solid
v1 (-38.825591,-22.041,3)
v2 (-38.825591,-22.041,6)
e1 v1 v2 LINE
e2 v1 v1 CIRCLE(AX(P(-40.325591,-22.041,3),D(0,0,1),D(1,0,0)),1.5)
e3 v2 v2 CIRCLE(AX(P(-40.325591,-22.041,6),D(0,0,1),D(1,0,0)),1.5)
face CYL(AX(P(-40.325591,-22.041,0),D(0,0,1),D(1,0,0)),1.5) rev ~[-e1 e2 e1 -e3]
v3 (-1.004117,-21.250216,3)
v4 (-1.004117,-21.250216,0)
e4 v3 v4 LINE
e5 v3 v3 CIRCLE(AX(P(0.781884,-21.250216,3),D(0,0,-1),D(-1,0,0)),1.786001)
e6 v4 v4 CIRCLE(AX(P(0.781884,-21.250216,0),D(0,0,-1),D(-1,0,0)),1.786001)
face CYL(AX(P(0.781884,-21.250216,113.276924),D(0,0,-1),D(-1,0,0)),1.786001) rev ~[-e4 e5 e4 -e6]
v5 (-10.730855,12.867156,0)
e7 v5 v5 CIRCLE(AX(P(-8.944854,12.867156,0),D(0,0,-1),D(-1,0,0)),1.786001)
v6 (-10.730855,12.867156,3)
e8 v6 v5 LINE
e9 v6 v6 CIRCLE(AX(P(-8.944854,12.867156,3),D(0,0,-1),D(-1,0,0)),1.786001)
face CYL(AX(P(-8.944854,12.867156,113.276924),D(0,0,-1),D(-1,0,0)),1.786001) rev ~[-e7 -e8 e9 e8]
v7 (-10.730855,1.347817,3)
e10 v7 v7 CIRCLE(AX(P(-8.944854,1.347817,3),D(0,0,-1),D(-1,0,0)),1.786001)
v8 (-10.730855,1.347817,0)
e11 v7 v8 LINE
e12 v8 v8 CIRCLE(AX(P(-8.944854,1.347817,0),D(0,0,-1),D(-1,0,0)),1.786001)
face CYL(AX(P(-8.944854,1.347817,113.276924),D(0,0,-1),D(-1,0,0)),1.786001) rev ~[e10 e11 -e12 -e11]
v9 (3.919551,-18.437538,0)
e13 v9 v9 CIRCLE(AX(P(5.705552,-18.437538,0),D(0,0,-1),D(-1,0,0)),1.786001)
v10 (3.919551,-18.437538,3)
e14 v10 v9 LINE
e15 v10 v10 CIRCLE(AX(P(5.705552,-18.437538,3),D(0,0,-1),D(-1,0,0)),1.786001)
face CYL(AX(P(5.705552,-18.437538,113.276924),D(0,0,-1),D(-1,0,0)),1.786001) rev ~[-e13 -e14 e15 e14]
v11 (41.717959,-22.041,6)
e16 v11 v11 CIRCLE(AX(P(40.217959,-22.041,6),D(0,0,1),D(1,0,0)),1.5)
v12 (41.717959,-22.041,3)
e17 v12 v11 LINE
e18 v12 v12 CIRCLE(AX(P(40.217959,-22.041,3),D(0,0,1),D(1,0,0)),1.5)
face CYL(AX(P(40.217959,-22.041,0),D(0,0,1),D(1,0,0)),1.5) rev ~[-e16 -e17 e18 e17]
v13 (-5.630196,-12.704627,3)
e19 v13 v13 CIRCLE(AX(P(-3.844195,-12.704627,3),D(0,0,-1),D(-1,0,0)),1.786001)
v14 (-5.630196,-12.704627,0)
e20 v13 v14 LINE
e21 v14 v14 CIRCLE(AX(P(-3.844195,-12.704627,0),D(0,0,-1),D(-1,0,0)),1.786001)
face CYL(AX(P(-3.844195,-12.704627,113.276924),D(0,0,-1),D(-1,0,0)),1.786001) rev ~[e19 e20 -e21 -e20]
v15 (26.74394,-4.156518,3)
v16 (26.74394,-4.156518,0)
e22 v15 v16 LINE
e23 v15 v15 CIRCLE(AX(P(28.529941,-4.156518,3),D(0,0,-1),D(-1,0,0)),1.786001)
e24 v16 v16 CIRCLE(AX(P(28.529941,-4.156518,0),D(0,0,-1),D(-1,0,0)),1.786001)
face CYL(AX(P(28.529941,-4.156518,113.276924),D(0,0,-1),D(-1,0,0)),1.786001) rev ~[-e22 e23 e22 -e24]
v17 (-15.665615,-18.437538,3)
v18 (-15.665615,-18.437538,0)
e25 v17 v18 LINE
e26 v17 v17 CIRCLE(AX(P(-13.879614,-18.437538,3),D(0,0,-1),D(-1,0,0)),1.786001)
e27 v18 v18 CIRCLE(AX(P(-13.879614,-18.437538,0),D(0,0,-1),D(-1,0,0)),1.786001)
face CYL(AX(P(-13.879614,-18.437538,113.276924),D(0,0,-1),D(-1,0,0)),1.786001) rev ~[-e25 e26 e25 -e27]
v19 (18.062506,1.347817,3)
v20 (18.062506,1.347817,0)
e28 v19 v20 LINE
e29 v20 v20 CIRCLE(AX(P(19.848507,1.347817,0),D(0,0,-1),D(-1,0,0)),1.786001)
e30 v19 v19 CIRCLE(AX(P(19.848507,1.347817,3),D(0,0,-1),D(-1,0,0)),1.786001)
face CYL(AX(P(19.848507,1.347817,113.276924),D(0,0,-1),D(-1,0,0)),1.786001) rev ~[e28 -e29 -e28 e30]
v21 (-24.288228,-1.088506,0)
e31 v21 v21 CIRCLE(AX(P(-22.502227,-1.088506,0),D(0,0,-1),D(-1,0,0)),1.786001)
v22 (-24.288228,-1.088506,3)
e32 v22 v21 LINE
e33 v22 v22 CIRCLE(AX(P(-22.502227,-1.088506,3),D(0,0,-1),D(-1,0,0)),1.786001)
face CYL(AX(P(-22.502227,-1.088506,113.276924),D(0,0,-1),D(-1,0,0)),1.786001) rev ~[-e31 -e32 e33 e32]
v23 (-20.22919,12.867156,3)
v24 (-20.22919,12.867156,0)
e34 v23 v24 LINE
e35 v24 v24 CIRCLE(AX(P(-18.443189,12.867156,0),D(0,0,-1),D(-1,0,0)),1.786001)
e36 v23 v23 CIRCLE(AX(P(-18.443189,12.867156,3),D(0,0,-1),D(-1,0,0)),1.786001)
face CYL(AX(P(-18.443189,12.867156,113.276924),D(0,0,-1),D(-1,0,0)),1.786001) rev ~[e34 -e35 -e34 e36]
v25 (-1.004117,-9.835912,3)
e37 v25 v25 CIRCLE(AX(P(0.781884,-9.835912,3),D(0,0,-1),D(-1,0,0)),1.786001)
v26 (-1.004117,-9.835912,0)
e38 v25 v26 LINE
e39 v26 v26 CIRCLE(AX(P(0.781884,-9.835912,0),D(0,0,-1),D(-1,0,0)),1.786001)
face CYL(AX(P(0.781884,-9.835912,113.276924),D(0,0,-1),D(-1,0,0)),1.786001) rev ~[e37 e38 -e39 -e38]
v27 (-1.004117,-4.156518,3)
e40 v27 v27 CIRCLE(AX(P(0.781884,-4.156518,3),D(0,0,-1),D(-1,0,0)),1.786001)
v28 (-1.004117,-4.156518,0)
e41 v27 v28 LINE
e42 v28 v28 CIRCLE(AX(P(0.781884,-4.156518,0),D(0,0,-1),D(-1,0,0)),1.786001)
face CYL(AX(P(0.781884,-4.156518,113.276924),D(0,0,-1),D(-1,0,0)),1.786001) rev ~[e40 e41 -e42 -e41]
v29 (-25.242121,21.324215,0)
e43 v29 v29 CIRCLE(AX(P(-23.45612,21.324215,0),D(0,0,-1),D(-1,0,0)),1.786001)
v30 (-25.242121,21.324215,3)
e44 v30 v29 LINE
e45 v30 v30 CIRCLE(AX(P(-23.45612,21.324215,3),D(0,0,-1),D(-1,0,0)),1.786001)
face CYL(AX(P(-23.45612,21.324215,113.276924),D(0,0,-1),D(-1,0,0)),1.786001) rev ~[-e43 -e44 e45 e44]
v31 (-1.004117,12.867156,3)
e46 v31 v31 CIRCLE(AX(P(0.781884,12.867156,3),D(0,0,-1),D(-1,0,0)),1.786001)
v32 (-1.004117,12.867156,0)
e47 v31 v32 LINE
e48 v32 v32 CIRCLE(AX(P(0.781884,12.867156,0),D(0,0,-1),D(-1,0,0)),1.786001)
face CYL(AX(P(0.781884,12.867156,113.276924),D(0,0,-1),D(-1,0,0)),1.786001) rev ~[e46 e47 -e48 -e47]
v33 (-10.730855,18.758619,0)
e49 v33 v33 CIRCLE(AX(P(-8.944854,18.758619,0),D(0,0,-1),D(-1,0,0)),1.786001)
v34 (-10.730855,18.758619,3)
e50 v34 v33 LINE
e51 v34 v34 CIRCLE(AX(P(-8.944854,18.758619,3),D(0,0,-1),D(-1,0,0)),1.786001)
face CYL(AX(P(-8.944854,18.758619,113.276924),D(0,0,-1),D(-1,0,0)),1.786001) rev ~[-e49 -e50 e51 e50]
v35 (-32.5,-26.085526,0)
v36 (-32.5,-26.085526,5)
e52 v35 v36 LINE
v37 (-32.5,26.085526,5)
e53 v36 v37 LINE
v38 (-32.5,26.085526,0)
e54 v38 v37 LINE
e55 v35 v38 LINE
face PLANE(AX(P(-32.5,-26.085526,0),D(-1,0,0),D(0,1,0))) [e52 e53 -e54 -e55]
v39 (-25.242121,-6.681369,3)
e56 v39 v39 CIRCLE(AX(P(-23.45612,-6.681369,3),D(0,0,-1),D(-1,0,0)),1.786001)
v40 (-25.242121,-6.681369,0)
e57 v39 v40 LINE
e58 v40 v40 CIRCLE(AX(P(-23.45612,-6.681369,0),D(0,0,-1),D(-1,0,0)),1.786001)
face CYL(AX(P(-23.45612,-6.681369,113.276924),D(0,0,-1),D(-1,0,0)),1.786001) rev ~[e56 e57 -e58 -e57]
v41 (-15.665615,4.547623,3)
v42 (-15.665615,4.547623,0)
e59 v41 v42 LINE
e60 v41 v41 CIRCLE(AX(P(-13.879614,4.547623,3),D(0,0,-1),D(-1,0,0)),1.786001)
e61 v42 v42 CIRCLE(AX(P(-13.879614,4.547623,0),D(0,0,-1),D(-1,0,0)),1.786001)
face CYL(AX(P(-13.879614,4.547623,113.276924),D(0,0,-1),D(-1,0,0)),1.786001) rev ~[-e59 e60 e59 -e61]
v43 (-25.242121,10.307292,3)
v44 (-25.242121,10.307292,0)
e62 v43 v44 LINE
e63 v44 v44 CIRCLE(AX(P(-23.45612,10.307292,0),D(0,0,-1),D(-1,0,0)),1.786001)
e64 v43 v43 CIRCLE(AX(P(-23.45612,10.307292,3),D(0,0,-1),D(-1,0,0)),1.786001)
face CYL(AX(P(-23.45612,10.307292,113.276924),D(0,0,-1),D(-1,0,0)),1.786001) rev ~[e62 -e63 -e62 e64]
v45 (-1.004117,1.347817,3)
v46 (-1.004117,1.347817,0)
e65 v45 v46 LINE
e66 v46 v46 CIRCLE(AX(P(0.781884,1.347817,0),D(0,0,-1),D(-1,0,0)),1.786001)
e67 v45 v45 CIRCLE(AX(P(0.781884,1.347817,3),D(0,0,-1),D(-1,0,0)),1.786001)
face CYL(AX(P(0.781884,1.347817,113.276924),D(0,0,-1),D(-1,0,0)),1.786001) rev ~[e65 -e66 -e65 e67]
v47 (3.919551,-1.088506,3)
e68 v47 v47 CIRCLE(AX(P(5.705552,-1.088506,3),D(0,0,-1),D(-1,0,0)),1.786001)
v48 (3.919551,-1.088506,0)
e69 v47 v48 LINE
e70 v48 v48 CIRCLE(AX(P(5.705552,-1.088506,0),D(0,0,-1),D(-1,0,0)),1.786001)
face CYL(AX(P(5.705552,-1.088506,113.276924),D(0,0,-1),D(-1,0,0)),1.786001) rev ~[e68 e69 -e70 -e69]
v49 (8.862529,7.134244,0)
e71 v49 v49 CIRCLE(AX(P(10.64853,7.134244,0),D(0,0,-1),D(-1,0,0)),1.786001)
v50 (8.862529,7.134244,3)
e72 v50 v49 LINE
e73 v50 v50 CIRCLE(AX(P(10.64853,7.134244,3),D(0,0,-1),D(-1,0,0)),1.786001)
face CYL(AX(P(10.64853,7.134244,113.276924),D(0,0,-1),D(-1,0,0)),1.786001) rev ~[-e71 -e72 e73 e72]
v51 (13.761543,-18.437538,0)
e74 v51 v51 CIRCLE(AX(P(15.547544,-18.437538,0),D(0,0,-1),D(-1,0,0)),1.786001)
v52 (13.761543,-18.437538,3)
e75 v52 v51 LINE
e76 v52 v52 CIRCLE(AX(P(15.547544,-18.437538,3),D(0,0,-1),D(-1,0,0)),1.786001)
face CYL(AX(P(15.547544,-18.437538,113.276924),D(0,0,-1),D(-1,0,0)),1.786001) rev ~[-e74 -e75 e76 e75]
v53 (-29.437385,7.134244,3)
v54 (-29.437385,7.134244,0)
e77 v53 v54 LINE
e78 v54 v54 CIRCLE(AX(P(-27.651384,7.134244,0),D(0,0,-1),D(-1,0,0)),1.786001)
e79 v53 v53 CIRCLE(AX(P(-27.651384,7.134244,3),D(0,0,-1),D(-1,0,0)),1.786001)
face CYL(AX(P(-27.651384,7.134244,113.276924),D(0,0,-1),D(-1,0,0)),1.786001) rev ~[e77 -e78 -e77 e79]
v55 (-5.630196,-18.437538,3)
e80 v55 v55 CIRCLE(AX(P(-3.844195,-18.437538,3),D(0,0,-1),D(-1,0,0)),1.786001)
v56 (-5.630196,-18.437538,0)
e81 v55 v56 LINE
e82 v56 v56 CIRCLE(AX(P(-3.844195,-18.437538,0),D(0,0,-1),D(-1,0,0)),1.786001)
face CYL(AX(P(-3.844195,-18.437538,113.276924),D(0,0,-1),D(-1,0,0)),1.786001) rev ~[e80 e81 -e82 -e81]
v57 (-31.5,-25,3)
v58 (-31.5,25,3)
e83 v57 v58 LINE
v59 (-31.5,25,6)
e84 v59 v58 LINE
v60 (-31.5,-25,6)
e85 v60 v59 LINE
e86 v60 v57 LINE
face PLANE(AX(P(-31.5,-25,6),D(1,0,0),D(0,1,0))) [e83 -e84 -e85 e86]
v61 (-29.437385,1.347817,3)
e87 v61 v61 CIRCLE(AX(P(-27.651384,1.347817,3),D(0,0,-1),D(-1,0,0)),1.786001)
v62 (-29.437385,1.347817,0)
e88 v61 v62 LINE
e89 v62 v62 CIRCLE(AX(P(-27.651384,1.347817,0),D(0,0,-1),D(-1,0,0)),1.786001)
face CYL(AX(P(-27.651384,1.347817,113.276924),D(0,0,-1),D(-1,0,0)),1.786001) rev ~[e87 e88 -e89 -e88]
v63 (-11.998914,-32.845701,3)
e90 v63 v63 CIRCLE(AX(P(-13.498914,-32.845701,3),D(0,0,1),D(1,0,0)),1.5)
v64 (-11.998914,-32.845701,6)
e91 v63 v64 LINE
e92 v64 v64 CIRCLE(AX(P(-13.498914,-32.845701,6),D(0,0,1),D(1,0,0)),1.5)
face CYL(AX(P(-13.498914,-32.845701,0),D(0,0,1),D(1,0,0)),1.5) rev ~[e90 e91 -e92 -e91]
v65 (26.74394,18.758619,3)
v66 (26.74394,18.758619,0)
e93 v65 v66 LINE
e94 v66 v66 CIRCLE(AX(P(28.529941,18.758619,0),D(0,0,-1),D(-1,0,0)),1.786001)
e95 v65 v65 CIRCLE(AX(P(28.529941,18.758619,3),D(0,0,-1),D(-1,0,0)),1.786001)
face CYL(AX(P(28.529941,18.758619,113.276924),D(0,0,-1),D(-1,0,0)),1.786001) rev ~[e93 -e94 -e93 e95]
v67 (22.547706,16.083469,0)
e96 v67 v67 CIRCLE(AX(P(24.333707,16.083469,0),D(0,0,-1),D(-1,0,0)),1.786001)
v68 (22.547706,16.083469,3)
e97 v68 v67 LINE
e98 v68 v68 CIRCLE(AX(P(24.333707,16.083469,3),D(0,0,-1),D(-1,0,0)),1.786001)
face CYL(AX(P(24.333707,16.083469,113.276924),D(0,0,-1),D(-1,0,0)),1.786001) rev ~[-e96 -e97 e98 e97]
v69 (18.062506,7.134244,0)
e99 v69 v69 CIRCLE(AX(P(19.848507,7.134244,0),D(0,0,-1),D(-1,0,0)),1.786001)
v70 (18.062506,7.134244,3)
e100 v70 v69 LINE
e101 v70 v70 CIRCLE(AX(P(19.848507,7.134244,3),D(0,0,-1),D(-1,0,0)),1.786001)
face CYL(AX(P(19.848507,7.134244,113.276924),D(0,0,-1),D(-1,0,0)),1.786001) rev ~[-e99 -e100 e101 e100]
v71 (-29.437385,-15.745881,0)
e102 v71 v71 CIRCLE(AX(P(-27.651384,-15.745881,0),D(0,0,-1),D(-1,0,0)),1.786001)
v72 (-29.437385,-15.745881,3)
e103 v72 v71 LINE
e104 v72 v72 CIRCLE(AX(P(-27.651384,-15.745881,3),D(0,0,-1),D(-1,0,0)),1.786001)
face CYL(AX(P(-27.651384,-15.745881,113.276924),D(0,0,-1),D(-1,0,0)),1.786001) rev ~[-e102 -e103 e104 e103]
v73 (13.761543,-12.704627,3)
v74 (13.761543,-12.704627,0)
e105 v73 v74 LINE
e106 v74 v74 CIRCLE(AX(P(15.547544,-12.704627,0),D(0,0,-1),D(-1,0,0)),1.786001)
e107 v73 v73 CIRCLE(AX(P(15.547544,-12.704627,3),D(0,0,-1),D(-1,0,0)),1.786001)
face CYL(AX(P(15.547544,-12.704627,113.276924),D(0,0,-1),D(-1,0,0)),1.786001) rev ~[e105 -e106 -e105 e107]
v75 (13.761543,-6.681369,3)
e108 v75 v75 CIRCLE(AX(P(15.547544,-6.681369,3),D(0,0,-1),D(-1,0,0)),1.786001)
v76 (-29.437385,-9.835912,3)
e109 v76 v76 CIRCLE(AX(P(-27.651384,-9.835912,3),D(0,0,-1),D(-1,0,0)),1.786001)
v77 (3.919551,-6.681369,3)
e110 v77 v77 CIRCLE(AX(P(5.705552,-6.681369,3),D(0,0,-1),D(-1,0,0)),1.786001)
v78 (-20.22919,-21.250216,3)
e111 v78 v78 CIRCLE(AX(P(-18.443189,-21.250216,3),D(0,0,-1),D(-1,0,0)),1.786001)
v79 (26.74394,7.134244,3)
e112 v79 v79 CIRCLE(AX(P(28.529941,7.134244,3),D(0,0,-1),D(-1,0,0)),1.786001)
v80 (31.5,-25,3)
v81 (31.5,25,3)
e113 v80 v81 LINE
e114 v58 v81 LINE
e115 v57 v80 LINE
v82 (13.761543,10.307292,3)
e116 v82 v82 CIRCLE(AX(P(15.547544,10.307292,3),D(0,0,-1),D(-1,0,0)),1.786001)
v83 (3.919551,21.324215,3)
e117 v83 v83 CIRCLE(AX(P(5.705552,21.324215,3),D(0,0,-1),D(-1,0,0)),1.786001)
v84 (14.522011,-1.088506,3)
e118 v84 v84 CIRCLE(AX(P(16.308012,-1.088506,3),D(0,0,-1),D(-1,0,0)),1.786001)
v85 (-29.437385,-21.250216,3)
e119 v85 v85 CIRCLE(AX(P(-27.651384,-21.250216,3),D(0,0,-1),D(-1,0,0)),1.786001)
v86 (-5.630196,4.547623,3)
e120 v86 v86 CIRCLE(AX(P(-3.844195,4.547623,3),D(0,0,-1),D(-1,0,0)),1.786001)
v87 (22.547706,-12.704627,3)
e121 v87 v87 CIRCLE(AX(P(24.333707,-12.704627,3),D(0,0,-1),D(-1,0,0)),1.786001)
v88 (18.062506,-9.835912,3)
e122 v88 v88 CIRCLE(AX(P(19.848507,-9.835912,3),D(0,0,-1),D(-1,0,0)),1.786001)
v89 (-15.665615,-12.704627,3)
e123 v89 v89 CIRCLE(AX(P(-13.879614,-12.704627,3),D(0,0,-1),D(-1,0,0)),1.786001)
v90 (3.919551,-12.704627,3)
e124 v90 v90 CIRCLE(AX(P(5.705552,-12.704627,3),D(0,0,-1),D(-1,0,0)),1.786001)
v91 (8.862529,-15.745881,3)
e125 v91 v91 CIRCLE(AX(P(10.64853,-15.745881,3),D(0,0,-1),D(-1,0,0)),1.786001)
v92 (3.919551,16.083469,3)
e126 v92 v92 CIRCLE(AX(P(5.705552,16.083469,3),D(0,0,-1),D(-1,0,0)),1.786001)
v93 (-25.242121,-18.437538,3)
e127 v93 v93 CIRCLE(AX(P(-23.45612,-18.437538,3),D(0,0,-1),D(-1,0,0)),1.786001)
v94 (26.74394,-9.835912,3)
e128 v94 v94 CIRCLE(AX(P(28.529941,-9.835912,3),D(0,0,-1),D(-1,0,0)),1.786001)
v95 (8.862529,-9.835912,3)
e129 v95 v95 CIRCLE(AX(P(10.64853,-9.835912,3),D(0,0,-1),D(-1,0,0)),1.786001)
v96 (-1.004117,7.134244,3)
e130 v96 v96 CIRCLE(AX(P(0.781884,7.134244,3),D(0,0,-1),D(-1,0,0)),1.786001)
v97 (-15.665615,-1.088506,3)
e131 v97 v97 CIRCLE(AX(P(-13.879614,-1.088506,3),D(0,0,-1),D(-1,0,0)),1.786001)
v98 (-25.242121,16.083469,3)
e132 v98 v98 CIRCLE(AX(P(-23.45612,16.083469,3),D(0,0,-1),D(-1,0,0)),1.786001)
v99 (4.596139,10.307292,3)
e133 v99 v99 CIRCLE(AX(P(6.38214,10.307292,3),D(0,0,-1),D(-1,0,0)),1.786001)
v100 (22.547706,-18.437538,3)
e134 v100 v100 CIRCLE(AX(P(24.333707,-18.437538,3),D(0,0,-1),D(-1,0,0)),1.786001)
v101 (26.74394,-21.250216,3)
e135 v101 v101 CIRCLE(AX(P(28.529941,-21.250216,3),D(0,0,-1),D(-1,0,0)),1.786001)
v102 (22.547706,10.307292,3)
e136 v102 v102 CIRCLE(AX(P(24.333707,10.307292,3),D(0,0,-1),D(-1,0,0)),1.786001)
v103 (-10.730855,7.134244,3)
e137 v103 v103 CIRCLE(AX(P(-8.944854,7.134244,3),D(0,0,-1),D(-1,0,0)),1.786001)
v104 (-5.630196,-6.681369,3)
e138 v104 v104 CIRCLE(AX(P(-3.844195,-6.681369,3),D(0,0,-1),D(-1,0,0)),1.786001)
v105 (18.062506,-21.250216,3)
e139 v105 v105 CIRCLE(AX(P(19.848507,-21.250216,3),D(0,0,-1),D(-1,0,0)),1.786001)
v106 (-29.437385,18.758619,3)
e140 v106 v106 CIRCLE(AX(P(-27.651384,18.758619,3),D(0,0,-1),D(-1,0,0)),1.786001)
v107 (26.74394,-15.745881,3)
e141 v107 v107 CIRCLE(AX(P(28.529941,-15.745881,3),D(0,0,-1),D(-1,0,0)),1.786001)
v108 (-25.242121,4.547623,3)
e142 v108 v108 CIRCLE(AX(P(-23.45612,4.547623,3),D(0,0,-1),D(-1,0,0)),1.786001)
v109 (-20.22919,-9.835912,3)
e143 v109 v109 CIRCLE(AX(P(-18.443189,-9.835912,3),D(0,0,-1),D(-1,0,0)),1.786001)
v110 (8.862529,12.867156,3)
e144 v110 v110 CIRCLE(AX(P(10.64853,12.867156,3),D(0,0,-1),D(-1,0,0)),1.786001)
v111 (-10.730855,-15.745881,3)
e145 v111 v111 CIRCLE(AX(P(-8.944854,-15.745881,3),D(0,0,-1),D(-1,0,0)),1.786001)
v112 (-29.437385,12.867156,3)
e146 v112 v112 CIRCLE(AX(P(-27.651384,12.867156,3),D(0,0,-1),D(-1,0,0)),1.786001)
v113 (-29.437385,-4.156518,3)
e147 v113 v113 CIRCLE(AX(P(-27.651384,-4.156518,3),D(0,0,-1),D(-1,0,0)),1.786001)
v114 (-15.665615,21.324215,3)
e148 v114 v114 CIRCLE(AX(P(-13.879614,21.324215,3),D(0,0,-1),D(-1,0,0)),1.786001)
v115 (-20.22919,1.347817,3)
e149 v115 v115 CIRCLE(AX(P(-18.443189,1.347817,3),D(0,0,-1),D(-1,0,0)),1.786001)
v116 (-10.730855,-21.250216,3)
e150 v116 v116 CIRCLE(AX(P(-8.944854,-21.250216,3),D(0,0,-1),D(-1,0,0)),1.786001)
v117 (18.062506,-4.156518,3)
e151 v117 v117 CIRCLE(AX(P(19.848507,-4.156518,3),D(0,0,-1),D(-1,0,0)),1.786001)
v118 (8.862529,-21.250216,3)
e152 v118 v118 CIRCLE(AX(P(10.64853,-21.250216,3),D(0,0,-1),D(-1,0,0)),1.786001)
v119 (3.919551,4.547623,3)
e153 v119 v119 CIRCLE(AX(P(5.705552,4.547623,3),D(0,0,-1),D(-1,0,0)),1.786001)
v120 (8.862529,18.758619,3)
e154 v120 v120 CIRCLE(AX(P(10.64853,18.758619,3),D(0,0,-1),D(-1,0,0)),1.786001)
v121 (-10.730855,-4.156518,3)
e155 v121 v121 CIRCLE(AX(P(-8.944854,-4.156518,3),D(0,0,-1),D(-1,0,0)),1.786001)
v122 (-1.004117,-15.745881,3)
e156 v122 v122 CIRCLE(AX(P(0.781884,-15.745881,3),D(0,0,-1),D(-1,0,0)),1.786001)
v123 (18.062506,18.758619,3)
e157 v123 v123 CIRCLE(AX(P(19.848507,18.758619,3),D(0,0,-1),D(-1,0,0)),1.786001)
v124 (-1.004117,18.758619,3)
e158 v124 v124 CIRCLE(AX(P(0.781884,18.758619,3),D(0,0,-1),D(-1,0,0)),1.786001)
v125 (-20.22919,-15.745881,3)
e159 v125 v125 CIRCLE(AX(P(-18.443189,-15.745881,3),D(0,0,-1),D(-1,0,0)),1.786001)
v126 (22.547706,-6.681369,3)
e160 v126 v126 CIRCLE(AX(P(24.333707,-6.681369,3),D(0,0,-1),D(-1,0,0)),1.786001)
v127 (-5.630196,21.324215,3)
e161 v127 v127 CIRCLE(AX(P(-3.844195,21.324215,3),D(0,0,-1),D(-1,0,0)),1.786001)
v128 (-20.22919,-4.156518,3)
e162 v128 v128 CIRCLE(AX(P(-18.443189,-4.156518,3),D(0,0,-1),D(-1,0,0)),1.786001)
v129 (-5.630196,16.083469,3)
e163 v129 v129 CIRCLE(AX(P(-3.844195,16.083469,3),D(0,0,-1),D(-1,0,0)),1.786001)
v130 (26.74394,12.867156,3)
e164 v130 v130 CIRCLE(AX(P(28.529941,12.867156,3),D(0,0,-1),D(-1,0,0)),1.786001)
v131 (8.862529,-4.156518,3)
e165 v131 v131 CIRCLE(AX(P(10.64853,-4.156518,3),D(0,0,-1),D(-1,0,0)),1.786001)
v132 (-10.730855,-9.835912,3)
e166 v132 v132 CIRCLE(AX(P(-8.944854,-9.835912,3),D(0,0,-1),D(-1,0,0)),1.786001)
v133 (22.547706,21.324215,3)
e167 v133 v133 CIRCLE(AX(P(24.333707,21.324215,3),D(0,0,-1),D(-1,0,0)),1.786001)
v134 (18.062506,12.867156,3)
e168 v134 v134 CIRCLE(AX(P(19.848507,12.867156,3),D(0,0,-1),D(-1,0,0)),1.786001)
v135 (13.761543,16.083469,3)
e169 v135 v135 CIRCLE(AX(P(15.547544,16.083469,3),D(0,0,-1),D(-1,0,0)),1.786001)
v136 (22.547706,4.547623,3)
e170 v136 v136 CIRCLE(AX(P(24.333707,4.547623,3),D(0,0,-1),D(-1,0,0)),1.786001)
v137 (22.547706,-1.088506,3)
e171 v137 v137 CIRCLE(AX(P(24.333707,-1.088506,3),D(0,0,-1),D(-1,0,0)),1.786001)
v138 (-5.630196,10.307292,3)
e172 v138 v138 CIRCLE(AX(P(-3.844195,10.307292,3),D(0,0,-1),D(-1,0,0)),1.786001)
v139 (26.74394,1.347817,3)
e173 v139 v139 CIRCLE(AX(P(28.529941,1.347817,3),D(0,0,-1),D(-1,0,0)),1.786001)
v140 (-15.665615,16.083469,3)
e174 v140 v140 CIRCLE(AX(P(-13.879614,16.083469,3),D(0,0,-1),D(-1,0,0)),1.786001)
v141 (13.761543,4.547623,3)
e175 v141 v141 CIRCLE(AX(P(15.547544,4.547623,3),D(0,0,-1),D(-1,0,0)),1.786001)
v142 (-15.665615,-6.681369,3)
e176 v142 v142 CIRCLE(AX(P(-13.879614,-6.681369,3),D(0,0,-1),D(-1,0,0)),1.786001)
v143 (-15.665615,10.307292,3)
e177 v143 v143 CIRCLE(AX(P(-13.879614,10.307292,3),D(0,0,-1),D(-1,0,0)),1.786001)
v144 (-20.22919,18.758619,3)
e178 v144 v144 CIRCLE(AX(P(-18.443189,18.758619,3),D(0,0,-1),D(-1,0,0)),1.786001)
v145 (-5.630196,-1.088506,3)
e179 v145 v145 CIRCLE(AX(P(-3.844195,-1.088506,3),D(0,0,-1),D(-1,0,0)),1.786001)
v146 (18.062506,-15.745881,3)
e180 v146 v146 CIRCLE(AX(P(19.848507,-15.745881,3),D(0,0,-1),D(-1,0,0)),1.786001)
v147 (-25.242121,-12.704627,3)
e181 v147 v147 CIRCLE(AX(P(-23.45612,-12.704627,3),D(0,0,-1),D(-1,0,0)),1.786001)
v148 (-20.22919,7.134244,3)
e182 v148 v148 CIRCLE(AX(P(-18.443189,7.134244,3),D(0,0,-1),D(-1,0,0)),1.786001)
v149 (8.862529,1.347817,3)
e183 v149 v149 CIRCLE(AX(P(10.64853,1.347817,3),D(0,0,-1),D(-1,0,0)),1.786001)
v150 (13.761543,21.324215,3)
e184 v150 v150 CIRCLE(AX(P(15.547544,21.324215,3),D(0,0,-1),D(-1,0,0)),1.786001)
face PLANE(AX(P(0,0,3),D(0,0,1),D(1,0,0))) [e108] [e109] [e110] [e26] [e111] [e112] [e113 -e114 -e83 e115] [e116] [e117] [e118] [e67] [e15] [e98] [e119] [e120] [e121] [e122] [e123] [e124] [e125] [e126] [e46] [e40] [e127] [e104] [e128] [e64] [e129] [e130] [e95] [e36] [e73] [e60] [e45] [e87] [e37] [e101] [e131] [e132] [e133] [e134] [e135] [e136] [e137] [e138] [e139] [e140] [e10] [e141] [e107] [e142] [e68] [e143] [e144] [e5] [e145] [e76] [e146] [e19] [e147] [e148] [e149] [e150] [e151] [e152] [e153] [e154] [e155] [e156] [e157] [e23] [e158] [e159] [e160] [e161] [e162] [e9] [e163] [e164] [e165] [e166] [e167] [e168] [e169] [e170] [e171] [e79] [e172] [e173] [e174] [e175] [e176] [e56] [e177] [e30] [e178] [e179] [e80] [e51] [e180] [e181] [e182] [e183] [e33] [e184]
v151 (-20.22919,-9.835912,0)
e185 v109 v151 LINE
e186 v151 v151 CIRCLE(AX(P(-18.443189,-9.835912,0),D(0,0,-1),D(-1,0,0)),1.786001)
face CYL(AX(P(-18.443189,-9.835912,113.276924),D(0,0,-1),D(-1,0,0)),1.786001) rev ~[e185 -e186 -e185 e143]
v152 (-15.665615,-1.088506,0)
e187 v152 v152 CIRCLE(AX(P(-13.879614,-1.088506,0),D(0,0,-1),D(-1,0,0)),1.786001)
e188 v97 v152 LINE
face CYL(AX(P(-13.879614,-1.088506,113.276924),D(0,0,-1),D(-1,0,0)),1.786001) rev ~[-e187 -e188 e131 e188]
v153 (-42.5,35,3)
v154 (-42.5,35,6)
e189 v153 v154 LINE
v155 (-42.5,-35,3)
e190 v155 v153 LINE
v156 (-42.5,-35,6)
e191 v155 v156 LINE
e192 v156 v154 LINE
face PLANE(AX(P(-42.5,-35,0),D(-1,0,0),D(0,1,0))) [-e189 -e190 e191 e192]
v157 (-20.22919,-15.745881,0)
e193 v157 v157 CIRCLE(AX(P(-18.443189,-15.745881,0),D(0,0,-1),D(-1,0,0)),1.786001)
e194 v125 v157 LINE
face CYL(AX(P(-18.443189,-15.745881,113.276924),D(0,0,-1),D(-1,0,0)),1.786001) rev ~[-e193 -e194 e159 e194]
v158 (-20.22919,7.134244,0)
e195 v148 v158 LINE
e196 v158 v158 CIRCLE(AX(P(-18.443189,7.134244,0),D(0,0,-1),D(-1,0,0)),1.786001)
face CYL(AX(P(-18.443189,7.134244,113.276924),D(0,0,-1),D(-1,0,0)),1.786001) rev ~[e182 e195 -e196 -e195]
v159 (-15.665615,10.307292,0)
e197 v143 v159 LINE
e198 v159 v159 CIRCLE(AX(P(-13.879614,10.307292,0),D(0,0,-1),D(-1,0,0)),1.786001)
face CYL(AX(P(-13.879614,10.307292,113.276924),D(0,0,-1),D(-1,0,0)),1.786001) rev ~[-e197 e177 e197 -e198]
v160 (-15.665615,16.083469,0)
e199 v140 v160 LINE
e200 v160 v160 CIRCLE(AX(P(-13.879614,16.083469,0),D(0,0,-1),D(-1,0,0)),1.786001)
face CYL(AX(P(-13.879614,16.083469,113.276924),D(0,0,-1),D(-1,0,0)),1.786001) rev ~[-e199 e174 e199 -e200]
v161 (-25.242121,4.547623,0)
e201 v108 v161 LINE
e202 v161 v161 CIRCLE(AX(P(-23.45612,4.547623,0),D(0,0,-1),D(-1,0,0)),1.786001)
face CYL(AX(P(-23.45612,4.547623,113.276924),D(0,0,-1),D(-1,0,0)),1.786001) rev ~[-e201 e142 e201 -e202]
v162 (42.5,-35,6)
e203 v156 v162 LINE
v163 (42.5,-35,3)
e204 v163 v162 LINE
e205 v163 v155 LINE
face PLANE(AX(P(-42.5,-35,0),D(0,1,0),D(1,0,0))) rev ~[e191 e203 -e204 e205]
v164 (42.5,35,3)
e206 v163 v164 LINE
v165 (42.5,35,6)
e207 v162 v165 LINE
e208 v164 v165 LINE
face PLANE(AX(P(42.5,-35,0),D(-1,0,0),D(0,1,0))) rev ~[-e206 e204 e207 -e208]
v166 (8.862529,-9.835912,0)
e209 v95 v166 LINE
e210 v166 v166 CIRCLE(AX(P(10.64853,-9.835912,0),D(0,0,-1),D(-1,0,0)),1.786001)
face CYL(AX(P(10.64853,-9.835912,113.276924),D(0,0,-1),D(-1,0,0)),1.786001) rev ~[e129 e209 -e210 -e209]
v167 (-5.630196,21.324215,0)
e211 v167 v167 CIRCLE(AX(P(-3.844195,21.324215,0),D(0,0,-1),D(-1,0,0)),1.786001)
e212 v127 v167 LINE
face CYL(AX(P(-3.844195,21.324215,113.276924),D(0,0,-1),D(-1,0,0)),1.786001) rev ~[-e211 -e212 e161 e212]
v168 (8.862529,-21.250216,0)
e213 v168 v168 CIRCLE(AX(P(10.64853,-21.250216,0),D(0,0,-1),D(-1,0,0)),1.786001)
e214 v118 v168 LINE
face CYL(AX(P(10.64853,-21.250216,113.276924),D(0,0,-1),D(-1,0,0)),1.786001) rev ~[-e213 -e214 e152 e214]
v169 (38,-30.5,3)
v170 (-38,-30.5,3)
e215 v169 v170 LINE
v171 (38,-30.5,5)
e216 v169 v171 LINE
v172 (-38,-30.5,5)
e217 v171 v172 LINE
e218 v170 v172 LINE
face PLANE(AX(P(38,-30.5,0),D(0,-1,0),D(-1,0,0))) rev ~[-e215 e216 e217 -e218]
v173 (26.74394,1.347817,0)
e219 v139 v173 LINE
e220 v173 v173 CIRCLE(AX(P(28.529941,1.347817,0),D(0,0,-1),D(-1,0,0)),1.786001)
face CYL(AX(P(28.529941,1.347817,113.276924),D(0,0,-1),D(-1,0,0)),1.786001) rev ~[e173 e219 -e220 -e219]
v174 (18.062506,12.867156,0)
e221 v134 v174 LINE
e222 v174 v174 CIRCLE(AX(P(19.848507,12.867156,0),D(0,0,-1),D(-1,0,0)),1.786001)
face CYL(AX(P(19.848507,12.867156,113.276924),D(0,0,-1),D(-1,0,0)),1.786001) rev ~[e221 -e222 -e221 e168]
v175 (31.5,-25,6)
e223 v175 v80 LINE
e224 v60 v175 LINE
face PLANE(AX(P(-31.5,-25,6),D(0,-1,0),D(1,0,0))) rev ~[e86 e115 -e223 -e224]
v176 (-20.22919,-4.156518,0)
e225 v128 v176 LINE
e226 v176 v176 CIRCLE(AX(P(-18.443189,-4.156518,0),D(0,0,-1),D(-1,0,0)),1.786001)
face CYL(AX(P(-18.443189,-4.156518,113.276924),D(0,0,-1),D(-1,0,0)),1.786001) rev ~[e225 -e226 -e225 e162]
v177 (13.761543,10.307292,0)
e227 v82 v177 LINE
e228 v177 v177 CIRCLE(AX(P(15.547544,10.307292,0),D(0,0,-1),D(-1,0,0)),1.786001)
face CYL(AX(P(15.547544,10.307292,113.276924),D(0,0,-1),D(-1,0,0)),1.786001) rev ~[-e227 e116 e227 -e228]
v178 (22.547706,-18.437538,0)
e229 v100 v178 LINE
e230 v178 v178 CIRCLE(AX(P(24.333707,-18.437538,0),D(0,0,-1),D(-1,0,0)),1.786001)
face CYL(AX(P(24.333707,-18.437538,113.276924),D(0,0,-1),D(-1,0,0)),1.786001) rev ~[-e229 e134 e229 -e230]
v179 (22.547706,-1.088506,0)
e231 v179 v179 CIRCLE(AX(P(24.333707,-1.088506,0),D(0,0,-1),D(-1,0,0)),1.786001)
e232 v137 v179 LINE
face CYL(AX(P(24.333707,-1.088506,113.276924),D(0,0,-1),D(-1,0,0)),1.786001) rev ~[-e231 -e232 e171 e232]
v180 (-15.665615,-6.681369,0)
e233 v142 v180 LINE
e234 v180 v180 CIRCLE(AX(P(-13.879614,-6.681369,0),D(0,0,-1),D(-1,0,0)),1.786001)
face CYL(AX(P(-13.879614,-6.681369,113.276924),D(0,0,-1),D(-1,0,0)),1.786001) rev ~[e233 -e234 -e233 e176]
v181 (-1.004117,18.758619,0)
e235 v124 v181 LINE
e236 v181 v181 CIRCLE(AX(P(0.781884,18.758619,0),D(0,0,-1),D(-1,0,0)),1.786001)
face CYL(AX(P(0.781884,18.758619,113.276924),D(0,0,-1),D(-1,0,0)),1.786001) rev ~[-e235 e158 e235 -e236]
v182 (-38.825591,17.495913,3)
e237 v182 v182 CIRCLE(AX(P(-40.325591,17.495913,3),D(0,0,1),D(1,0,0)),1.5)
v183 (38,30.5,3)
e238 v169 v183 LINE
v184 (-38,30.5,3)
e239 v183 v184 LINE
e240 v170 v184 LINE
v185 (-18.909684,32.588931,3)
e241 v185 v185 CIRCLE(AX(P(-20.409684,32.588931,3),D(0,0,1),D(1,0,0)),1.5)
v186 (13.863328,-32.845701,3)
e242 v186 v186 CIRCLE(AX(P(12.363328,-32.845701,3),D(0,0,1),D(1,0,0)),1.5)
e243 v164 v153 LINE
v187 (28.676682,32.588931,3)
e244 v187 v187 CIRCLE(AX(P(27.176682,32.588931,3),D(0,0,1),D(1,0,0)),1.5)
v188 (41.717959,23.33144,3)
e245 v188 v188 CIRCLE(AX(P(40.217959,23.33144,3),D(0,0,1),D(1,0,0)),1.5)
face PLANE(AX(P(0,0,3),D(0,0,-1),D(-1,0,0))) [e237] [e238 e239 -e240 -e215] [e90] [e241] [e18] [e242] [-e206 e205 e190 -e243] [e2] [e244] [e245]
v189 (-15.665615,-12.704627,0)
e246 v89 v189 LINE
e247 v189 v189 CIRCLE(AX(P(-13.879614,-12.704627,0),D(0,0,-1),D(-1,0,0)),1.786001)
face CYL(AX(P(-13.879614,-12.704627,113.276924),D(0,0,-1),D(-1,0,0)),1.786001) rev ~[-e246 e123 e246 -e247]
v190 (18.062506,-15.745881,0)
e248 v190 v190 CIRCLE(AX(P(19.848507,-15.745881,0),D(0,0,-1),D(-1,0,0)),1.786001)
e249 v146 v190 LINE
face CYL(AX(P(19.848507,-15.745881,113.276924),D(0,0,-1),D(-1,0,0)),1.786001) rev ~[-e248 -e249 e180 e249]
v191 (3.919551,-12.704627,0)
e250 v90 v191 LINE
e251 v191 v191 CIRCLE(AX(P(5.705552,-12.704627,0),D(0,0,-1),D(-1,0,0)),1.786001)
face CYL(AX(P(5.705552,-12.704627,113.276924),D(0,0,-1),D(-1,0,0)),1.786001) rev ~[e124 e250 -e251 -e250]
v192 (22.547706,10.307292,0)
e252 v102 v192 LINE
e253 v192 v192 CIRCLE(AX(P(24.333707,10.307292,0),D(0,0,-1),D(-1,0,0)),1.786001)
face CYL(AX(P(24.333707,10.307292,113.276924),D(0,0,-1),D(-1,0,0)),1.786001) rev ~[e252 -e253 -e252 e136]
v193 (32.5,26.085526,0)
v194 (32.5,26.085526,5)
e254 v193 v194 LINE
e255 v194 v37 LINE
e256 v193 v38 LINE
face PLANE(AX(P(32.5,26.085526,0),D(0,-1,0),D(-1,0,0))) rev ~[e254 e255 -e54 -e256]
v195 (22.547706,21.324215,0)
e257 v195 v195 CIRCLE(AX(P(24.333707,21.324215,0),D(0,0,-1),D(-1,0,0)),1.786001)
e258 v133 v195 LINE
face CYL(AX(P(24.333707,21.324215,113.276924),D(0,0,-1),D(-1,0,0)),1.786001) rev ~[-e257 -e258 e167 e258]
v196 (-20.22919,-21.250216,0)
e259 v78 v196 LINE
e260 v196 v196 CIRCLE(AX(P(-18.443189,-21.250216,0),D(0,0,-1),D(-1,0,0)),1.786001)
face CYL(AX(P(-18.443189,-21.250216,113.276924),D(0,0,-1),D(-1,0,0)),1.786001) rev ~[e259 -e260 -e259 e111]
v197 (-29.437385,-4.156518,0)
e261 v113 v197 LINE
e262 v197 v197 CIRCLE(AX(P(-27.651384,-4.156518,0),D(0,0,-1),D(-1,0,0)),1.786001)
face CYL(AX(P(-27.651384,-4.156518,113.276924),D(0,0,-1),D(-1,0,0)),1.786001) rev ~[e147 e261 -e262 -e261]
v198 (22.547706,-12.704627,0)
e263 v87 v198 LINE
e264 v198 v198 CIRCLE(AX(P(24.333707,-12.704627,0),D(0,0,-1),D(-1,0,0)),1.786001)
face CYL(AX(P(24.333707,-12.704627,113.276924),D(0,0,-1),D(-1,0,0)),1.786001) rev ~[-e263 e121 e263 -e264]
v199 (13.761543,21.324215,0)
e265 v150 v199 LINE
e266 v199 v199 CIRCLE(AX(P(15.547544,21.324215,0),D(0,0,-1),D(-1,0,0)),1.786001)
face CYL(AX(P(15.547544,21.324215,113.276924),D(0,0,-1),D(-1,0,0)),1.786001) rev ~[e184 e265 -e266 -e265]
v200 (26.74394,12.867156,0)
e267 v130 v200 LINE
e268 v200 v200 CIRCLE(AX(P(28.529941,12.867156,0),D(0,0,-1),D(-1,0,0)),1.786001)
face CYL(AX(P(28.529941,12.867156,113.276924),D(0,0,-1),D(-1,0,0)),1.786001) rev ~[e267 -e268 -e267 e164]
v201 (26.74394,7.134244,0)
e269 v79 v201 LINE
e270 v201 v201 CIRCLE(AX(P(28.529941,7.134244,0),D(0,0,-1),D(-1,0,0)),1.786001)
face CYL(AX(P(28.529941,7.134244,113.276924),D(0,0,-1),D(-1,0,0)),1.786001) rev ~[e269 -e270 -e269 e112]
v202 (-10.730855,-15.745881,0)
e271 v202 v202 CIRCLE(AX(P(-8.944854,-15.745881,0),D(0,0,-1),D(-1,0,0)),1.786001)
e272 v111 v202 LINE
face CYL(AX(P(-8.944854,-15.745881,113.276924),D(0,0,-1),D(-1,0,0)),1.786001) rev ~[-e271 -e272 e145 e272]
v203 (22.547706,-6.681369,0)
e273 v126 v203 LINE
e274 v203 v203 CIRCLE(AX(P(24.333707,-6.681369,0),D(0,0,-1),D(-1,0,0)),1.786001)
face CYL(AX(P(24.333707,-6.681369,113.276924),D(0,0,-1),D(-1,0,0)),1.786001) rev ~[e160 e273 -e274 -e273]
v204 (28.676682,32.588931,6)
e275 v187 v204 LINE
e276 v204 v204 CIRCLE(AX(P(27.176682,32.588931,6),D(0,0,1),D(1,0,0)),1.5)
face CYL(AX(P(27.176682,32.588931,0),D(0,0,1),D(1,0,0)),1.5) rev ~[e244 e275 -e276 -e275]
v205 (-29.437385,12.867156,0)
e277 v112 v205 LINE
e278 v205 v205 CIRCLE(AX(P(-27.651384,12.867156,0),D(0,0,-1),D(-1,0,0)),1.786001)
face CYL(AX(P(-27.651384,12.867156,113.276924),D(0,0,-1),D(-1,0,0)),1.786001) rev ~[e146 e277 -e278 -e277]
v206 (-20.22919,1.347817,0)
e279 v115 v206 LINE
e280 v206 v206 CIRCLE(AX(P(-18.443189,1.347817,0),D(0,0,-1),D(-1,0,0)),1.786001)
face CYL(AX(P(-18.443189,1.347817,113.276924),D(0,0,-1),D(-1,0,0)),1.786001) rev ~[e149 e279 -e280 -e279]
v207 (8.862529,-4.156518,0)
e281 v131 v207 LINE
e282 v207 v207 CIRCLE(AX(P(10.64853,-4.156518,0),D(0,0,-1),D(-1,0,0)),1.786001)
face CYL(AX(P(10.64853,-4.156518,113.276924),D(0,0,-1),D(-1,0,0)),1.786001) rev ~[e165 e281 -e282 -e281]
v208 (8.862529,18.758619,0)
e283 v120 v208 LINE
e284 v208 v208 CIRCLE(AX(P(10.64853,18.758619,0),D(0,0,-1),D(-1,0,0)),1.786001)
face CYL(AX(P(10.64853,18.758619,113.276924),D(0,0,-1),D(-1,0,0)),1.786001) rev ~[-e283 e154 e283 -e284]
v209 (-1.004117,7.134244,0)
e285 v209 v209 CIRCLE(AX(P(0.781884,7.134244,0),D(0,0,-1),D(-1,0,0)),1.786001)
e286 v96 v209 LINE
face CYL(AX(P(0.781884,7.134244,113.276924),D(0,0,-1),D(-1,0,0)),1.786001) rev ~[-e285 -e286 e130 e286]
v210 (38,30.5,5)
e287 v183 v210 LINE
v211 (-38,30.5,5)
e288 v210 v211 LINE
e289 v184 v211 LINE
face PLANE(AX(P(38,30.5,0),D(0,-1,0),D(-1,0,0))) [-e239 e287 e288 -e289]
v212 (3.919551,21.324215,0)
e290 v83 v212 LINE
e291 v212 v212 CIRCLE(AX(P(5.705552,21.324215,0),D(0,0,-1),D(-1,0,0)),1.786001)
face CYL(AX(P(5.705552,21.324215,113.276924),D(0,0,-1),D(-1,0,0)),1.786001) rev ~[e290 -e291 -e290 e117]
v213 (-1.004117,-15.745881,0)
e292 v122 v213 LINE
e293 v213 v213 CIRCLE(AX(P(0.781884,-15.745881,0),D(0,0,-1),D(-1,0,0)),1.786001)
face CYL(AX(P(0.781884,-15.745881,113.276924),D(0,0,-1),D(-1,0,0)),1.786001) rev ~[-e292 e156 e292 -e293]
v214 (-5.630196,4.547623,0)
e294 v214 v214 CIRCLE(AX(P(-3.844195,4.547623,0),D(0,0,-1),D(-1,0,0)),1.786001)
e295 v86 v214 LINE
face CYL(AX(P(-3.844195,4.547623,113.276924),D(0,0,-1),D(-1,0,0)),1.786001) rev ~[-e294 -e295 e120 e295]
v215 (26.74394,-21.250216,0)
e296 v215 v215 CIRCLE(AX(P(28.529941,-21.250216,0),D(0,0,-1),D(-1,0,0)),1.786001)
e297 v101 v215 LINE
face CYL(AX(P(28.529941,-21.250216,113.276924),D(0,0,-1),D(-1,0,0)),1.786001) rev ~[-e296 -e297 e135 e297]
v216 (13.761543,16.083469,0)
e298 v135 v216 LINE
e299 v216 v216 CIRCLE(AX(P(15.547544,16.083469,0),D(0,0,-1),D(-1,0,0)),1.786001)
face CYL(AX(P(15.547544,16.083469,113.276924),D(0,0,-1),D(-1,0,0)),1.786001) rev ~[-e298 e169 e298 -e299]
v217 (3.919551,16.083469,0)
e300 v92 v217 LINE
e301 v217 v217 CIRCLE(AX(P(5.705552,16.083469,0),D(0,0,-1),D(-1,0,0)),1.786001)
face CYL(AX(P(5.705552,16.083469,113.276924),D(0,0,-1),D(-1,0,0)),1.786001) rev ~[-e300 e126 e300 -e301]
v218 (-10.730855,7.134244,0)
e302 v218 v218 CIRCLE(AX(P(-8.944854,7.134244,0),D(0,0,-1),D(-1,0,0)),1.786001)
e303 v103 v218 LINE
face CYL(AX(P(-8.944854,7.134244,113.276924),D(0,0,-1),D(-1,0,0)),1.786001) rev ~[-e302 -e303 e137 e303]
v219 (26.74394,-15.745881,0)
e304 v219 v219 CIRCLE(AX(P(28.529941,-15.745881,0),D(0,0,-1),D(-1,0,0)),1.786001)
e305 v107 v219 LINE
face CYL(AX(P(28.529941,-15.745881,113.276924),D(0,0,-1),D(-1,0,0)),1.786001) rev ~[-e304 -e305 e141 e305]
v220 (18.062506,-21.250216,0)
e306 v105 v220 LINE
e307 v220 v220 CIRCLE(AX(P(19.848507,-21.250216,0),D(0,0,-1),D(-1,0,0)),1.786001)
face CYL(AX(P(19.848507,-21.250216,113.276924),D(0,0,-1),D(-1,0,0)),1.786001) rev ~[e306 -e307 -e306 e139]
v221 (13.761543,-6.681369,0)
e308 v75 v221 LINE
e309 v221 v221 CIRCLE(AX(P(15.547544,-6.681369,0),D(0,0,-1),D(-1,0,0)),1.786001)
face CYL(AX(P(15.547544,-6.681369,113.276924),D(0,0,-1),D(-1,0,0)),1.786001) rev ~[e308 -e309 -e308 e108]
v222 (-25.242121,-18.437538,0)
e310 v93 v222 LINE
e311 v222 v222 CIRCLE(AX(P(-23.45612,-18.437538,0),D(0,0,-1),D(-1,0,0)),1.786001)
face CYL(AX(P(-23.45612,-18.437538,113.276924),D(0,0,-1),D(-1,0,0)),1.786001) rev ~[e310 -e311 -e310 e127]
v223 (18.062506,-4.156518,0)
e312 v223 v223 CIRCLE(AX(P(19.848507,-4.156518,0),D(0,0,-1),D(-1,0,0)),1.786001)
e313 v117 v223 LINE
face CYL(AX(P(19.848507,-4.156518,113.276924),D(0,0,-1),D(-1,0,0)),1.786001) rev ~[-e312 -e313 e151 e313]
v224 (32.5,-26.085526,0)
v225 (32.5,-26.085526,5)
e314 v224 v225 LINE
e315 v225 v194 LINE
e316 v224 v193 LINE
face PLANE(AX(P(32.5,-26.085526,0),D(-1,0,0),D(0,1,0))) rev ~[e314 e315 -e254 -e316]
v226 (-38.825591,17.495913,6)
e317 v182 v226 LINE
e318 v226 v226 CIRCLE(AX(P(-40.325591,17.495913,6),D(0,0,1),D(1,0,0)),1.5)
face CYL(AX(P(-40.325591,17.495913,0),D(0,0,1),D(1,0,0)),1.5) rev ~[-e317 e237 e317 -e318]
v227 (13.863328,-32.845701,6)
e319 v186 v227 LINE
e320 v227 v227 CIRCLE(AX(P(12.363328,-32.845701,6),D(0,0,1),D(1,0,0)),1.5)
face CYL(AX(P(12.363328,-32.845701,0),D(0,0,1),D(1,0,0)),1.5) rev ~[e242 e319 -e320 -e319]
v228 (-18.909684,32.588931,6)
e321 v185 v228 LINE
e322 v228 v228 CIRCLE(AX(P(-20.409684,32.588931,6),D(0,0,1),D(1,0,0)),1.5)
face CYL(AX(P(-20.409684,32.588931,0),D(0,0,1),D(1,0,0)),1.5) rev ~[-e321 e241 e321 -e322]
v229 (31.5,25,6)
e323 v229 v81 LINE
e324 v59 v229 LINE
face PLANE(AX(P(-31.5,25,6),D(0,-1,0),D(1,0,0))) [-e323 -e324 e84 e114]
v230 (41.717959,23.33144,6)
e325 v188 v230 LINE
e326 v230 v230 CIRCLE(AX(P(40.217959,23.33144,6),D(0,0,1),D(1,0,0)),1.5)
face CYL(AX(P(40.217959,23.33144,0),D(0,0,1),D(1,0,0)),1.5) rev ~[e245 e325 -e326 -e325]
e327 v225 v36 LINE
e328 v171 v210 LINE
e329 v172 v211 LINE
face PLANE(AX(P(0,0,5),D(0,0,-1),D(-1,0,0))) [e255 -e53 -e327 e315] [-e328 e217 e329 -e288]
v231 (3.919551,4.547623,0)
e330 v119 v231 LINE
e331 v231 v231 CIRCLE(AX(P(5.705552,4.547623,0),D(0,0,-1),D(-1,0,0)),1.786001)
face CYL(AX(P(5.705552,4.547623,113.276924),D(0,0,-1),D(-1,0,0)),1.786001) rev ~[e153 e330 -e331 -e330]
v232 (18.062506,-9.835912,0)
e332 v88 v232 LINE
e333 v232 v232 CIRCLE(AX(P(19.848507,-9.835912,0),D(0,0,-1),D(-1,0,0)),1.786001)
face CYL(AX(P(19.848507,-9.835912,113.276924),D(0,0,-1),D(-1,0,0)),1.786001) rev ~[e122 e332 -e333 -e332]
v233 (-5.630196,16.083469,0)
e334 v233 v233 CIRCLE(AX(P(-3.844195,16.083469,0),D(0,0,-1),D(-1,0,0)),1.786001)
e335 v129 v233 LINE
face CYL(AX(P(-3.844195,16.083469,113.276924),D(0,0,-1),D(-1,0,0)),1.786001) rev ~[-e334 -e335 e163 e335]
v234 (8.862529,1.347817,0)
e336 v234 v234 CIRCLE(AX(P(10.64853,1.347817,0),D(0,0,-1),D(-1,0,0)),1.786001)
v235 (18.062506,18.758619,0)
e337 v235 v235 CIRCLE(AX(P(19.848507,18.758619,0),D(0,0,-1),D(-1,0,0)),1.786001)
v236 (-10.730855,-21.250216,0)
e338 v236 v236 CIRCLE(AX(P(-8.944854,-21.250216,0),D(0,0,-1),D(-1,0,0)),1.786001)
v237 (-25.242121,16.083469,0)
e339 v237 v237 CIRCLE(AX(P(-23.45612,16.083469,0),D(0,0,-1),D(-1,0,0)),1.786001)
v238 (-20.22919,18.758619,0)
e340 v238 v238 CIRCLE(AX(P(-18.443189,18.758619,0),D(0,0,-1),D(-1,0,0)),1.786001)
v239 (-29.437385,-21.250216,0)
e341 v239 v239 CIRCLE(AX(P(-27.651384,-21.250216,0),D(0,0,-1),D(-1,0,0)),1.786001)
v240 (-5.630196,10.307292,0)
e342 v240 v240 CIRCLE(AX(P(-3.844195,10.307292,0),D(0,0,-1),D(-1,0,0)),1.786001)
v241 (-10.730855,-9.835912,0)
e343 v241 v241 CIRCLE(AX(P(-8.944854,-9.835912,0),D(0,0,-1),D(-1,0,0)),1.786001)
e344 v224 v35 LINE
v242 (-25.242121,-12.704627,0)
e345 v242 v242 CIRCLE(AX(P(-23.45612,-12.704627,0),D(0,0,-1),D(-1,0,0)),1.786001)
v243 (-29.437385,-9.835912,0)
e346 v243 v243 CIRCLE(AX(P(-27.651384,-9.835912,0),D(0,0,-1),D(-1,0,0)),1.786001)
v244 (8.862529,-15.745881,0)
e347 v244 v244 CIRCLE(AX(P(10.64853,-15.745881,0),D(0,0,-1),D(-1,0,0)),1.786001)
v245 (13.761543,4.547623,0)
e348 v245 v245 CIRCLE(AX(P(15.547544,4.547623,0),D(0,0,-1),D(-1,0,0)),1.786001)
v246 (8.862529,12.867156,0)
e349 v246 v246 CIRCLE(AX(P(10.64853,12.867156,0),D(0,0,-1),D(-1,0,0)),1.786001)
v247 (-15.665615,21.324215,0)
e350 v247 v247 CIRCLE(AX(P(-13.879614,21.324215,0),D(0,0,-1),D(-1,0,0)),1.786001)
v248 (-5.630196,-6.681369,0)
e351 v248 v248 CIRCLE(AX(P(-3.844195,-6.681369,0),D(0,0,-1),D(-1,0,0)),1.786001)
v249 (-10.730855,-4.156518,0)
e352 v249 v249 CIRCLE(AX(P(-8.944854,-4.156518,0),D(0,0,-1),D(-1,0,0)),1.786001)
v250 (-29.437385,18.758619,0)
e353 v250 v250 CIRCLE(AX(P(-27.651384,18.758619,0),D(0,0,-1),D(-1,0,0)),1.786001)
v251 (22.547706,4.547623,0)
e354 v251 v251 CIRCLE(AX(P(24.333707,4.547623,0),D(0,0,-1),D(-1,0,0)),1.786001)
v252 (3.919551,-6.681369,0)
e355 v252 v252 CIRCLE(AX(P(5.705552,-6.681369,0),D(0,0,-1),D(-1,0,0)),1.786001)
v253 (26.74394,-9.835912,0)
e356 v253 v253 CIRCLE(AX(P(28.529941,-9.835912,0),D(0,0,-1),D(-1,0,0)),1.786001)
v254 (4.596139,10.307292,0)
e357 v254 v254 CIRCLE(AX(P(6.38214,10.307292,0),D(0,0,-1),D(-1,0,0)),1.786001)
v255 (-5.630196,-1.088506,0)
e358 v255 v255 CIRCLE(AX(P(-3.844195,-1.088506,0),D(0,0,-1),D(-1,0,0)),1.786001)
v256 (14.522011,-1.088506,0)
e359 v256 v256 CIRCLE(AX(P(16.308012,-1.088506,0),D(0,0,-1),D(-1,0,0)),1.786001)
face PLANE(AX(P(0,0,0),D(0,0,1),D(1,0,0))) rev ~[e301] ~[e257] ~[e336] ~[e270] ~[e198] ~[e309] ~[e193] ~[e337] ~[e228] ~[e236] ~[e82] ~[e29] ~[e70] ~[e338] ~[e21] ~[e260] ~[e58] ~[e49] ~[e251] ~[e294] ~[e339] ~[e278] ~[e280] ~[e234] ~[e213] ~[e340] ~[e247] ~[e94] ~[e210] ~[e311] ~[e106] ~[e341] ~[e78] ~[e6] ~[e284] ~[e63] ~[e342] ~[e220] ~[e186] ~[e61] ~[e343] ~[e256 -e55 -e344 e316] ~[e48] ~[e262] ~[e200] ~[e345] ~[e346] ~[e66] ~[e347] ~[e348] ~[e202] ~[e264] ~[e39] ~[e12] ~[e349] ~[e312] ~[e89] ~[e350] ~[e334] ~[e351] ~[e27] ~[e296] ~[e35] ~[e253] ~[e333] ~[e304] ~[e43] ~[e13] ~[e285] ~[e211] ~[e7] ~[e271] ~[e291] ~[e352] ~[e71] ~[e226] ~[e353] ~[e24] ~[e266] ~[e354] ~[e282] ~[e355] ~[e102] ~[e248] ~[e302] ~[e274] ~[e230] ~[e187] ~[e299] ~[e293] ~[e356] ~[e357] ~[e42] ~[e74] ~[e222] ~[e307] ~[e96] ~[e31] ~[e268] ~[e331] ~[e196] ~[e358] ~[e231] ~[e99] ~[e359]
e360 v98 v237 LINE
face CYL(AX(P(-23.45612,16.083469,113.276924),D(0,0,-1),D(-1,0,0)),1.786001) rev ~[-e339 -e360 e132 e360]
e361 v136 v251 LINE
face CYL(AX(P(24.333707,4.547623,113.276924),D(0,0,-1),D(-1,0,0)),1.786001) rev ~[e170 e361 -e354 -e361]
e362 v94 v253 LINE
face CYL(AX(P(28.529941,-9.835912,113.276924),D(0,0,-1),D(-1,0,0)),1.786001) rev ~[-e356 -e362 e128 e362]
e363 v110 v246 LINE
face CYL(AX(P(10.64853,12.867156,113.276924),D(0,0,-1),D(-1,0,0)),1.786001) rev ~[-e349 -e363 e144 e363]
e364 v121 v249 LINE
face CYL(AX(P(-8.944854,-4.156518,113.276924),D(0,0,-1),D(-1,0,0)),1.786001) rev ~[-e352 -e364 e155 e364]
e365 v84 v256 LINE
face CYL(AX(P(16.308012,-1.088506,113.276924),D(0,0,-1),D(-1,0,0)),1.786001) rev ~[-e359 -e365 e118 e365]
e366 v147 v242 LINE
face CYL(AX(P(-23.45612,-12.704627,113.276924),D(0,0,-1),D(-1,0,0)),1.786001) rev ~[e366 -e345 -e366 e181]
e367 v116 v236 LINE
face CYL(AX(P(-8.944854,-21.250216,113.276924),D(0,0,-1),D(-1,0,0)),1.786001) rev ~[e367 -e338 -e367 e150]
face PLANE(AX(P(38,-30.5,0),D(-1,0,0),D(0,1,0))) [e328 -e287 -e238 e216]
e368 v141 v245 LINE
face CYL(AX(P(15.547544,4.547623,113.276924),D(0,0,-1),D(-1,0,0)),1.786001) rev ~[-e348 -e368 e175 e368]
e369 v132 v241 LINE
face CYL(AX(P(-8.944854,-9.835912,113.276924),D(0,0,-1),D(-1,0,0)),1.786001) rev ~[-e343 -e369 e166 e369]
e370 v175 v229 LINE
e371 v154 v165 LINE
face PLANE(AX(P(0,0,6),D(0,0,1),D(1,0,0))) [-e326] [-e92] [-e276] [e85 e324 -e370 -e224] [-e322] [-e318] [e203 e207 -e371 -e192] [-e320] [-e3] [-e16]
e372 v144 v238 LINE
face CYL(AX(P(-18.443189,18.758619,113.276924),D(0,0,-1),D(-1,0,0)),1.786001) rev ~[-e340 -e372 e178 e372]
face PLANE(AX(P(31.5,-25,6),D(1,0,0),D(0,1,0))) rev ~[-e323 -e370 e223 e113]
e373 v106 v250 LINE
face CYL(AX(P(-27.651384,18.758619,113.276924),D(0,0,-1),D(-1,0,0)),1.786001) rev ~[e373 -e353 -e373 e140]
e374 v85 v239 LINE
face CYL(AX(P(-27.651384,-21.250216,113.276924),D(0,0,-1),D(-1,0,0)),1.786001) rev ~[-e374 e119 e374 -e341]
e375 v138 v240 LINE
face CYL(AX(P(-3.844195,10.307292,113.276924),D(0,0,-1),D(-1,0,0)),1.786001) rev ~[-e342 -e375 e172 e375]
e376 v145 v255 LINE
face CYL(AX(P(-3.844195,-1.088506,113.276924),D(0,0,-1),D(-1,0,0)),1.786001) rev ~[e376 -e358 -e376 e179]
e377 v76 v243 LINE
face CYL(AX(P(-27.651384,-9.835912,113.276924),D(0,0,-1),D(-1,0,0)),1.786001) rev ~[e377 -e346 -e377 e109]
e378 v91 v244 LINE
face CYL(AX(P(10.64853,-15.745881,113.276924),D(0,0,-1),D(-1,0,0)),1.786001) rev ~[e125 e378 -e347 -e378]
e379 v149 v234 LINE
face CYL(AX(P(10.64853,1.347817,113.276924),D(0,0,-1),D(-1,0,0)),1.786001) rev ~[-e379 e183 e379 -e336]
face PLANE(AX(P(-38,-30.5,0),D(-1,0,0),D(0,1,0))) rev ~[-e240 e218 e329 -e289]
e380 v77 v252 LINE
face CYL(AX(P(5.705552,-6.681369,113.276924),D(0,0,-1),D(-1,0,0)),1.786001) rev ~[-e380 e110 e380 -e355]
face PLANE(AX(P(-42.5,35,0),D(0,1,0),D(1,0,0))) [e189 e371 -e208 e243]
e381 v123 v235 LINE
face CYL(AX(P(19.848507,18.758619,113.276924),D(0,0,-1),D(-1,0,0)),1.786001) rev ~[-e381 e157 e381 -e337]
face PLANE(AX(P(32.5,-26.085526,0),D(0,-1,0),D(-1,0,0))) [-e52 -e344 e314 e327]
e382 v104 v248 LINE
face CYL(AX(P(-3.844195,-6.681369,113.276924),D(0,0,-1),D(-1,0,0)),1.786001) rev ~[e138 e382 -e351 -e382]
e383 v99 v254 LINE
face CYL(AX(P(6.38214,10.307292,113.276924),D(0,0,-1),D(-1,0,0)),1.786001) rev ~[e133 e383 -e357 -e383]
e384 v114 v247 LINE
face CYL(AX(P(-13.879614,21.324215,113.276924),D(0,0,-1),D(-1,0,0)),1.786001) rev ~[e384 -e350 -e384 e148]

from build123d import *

# Parameters (mm, degrees)
SKETCH1_W                       = 85
SKETCH1_H                       = 70
BOSS_EXTRUDE1_DEPTH             = 6
SKETCH2_W                       = 76
SKETCH2_H                       = 61
SKETCH2_W_2                     = 65
SKETCH2_H_2                     = 52.171052632
CUT_EXTRUDE1_DEPTH              = 5
SKETCH8_W                       = 63
SKETCH8_H                       = 50
CUT_EXTRUDE2_DEPTH              = 3
SKETCH19_W                      = 85
SKETCH19_H                      = 70
SKETCH19_W_2                    = 76
SKETCH19_H_2                    = 61
CUT_EXTRUDE3_DEPTH              = 3
F_9_64_0_14063_DIAMETER_HOLE3_D = 3.572002
F_3_0MM_DOWEL_HOLE1_D           = 3
F_3_0MM_DOWEL_HOLE1_DEPTH       = 3


with BuildPart() as part:
    # Sketch1 → Boss-Extrude1 (new body)
    with BuildSketch(Plane.XY):
        Rectangle(SKETCH1_W, SKETCH1_H)
    extrude(amount=BOSS_EXTRUDE1_DEPTH)

    # Sketch2 → Cut-Extrude1 (cut)
    with BuildSketch(Plane(origin=(0, 0, 0), x_dir=(-1, 0, 0), z_dir=(0, 0, -1))):
        Rectangle(SKETCH2_W, SKETCH2_H)
        Rectangle(SKETCH2_W_2, SKETCH2_H_2, mode=Mode.SUBTRACT)
    extrude(amount=-CUT_EXTRUDE1_DEPTH, mode=Mode.SUBTRACT)

    # Sketch8 → Cut-Extrude2 (cut)
    with BuildSketch(Plane.XY.offset(6)):
        Rectangle(SKETCH8_W, SKETCH8_H)
    extrude(amount=-CUT_EXTRUDE2_DEPTH, mode=Mode.SUBTRACT)

    # Sketch19 → Cut-Extrude3 (cut)
    with BuildSketch(Plane(origin=(0, 0, 0), x_dir=(-1, 0, 0), z_dir=(0, 0, -1))):
        Rectangle(SKETCH19_W, SKETCH19_H)
        Rectangle(SKETCH19_W_2, SKETCH19_H_2, mode=Mode.SUBTRACT)
    extrude(amount=-CUT_EXTRUDE3_DEPTH, mode=Mode.SUBTRACT)

    # 9/64 (0.14063) Diameter Hole3 (through all)
    with Locations(Plane.XY.offset(3)):
        with Locations((28.529940603, -21.250215539), (28.529940603, -15.745880775), (28.529940603, -9.835912277), (28.529940603, -4.156518145), (28.529940603, 1.34781662), (28.529940603, 7.134244498), (28.529940603, 12.867155503), (28.529940603, 18.758619001), (24.333707157, 16.083468805), (24.333707157, 21.324215456), (24.333707157, 10.30729249), (24.333707157, 4.547623048), (24.333707157, -1.088505773), (24.333707157, -6.681369284), (24.333707157, -12.70462684), (24.333707157, -18.437537845), (19.848506548, -21.250215539), (19.848506548, -15.745880775), (19.848506548, -9.835912277), (19.848506548, -4.156518145), (19.848506548, 1.34781662), (19.848506548, 7.134244498), (19.848506548, 12.867155503), (19.848506548, 18.758619001), (15.547544477, 21.324215456), (15.547544477, 16.083468805), (15.547544477, 10.30729249), (15.547544477, 4.547623048), (16.308011503, -1.088505773), (15.547544477, -6.681369284), (15.547544477, -12.70462684), (15.547544477, -18.437537845), (10.648529587, -21.250215539), (10.648529587, -15.745880775), (10.648529587, -9.835912277), (10.648529587, -4.156518145), (10.648529587, 1.34781662), (10.648529587, 7.134244498), (10.648529587, 12.867155503), (10.648529587, 18.758619001), (5.705552369, 21.324215456), (5.705552369, 16.083468805), (6.382139513, 10.30729249), (5.705552369, 4.547623048), (5.705552369, -1.088505773), (5.705552369, -6.681369284), (5.705552369, -12.70462684), (5.705552369, -18.437537845), (0.781883537, -21.250215539), (0.781883537, -15.745880775), (0.781883537, -9.835912277), (0.781883537, -4.156518145), (0.781883537, 1.34781662), (0.781883537, 7.134244498), (0.781883537, 12.867155503), (0.781883537, 18.758619001), (-3.844195099, 21.324215456), (-3.844195099, 16.083468805), (-3.844195099, 10.30729249), (-3.844195099, 4.547623048), (-3.844195099, -1.088505773), (-3.844195099, -6.681369284), (-3.844195099, -12.70462684), (-3.844195099, -18.437537845), (-8.944854311, -21.250215539), (-8.944854311, -15.745880775), (-8.944854311, -9.835912277), (-8.944854311, -4.156518145), (-8.944854311, 1.34781662), (-8.944854311, 7.134244498), (-8.944854311, 12.867155503), (-8.944854311, 18.758619001), (-13.879613549, 21.324215456), (-13.879613549, 16.083468805), (-13.879613549, 10.30729249), (-13.879613549, 4.547623048), (-13.879613549, -1.088505773), (-13.879613549, -6.681369284), (-13.879613549, -12.70462684), (-13.879613549, -18.437537845), (-18.443188767, -21.250215539), (-18.443188767, -15.745880775), (-18.443188767, -9.835912277), (-18.443188767, -4.156518145), (-18.443188767, 1.34781662), (-18.443188767, 7.134244498), (-18.443188767, 12.867155503), (-18.443188767, 18.758619001), (-23.456120087, 21.324215456), (-23.456120087, 16.083468805), (-23.456120087, 10.30729249), (-23.456120087, 4.547623048), (-22.502226718, -1.088505773), (-23.456120087, -6.681369284), (-23.456120087, -12.70462684), (-23.456120087, -18.437537845), (-27.651383709, -21.250215539), (-27.651383709, -15.745880775), (-27.651383709, -9.835912277), (-27.651383709, -4.156518145), (-27.651383709, 1.34781662), (-27.651383709, 7.134244498), (-27.651383709, 12.867155503), (-27.651383709, 18.758619001)):
            Hole(F_9_64_0_14063_DIAMETER_HOLE3_D / 2)

    # Ø3.0mm Dowel Hole1
    with Locations(Plane(origin=(0, 0, 3), x_dir=(-1, 0, 0), z_dir=(0, 0, -1))):
        with Locations((13.498913812, -32.845700562), (-12.363328063, -32.845700562), (40.325591259, -22.041000365), (40.325591259, 17.495913013), (20.409683685, 32.588930896), (-27.176681905, 32.588930896), (-40.217959294, 23.331440204), (-40.217959294, -22.041000365)):
            Hole(F_3_0MM_DOWEL_HOLE1_D / 2, depth=F_3_0MM_DOWEL_HOLE1_DEPTH)


solid = part.part
